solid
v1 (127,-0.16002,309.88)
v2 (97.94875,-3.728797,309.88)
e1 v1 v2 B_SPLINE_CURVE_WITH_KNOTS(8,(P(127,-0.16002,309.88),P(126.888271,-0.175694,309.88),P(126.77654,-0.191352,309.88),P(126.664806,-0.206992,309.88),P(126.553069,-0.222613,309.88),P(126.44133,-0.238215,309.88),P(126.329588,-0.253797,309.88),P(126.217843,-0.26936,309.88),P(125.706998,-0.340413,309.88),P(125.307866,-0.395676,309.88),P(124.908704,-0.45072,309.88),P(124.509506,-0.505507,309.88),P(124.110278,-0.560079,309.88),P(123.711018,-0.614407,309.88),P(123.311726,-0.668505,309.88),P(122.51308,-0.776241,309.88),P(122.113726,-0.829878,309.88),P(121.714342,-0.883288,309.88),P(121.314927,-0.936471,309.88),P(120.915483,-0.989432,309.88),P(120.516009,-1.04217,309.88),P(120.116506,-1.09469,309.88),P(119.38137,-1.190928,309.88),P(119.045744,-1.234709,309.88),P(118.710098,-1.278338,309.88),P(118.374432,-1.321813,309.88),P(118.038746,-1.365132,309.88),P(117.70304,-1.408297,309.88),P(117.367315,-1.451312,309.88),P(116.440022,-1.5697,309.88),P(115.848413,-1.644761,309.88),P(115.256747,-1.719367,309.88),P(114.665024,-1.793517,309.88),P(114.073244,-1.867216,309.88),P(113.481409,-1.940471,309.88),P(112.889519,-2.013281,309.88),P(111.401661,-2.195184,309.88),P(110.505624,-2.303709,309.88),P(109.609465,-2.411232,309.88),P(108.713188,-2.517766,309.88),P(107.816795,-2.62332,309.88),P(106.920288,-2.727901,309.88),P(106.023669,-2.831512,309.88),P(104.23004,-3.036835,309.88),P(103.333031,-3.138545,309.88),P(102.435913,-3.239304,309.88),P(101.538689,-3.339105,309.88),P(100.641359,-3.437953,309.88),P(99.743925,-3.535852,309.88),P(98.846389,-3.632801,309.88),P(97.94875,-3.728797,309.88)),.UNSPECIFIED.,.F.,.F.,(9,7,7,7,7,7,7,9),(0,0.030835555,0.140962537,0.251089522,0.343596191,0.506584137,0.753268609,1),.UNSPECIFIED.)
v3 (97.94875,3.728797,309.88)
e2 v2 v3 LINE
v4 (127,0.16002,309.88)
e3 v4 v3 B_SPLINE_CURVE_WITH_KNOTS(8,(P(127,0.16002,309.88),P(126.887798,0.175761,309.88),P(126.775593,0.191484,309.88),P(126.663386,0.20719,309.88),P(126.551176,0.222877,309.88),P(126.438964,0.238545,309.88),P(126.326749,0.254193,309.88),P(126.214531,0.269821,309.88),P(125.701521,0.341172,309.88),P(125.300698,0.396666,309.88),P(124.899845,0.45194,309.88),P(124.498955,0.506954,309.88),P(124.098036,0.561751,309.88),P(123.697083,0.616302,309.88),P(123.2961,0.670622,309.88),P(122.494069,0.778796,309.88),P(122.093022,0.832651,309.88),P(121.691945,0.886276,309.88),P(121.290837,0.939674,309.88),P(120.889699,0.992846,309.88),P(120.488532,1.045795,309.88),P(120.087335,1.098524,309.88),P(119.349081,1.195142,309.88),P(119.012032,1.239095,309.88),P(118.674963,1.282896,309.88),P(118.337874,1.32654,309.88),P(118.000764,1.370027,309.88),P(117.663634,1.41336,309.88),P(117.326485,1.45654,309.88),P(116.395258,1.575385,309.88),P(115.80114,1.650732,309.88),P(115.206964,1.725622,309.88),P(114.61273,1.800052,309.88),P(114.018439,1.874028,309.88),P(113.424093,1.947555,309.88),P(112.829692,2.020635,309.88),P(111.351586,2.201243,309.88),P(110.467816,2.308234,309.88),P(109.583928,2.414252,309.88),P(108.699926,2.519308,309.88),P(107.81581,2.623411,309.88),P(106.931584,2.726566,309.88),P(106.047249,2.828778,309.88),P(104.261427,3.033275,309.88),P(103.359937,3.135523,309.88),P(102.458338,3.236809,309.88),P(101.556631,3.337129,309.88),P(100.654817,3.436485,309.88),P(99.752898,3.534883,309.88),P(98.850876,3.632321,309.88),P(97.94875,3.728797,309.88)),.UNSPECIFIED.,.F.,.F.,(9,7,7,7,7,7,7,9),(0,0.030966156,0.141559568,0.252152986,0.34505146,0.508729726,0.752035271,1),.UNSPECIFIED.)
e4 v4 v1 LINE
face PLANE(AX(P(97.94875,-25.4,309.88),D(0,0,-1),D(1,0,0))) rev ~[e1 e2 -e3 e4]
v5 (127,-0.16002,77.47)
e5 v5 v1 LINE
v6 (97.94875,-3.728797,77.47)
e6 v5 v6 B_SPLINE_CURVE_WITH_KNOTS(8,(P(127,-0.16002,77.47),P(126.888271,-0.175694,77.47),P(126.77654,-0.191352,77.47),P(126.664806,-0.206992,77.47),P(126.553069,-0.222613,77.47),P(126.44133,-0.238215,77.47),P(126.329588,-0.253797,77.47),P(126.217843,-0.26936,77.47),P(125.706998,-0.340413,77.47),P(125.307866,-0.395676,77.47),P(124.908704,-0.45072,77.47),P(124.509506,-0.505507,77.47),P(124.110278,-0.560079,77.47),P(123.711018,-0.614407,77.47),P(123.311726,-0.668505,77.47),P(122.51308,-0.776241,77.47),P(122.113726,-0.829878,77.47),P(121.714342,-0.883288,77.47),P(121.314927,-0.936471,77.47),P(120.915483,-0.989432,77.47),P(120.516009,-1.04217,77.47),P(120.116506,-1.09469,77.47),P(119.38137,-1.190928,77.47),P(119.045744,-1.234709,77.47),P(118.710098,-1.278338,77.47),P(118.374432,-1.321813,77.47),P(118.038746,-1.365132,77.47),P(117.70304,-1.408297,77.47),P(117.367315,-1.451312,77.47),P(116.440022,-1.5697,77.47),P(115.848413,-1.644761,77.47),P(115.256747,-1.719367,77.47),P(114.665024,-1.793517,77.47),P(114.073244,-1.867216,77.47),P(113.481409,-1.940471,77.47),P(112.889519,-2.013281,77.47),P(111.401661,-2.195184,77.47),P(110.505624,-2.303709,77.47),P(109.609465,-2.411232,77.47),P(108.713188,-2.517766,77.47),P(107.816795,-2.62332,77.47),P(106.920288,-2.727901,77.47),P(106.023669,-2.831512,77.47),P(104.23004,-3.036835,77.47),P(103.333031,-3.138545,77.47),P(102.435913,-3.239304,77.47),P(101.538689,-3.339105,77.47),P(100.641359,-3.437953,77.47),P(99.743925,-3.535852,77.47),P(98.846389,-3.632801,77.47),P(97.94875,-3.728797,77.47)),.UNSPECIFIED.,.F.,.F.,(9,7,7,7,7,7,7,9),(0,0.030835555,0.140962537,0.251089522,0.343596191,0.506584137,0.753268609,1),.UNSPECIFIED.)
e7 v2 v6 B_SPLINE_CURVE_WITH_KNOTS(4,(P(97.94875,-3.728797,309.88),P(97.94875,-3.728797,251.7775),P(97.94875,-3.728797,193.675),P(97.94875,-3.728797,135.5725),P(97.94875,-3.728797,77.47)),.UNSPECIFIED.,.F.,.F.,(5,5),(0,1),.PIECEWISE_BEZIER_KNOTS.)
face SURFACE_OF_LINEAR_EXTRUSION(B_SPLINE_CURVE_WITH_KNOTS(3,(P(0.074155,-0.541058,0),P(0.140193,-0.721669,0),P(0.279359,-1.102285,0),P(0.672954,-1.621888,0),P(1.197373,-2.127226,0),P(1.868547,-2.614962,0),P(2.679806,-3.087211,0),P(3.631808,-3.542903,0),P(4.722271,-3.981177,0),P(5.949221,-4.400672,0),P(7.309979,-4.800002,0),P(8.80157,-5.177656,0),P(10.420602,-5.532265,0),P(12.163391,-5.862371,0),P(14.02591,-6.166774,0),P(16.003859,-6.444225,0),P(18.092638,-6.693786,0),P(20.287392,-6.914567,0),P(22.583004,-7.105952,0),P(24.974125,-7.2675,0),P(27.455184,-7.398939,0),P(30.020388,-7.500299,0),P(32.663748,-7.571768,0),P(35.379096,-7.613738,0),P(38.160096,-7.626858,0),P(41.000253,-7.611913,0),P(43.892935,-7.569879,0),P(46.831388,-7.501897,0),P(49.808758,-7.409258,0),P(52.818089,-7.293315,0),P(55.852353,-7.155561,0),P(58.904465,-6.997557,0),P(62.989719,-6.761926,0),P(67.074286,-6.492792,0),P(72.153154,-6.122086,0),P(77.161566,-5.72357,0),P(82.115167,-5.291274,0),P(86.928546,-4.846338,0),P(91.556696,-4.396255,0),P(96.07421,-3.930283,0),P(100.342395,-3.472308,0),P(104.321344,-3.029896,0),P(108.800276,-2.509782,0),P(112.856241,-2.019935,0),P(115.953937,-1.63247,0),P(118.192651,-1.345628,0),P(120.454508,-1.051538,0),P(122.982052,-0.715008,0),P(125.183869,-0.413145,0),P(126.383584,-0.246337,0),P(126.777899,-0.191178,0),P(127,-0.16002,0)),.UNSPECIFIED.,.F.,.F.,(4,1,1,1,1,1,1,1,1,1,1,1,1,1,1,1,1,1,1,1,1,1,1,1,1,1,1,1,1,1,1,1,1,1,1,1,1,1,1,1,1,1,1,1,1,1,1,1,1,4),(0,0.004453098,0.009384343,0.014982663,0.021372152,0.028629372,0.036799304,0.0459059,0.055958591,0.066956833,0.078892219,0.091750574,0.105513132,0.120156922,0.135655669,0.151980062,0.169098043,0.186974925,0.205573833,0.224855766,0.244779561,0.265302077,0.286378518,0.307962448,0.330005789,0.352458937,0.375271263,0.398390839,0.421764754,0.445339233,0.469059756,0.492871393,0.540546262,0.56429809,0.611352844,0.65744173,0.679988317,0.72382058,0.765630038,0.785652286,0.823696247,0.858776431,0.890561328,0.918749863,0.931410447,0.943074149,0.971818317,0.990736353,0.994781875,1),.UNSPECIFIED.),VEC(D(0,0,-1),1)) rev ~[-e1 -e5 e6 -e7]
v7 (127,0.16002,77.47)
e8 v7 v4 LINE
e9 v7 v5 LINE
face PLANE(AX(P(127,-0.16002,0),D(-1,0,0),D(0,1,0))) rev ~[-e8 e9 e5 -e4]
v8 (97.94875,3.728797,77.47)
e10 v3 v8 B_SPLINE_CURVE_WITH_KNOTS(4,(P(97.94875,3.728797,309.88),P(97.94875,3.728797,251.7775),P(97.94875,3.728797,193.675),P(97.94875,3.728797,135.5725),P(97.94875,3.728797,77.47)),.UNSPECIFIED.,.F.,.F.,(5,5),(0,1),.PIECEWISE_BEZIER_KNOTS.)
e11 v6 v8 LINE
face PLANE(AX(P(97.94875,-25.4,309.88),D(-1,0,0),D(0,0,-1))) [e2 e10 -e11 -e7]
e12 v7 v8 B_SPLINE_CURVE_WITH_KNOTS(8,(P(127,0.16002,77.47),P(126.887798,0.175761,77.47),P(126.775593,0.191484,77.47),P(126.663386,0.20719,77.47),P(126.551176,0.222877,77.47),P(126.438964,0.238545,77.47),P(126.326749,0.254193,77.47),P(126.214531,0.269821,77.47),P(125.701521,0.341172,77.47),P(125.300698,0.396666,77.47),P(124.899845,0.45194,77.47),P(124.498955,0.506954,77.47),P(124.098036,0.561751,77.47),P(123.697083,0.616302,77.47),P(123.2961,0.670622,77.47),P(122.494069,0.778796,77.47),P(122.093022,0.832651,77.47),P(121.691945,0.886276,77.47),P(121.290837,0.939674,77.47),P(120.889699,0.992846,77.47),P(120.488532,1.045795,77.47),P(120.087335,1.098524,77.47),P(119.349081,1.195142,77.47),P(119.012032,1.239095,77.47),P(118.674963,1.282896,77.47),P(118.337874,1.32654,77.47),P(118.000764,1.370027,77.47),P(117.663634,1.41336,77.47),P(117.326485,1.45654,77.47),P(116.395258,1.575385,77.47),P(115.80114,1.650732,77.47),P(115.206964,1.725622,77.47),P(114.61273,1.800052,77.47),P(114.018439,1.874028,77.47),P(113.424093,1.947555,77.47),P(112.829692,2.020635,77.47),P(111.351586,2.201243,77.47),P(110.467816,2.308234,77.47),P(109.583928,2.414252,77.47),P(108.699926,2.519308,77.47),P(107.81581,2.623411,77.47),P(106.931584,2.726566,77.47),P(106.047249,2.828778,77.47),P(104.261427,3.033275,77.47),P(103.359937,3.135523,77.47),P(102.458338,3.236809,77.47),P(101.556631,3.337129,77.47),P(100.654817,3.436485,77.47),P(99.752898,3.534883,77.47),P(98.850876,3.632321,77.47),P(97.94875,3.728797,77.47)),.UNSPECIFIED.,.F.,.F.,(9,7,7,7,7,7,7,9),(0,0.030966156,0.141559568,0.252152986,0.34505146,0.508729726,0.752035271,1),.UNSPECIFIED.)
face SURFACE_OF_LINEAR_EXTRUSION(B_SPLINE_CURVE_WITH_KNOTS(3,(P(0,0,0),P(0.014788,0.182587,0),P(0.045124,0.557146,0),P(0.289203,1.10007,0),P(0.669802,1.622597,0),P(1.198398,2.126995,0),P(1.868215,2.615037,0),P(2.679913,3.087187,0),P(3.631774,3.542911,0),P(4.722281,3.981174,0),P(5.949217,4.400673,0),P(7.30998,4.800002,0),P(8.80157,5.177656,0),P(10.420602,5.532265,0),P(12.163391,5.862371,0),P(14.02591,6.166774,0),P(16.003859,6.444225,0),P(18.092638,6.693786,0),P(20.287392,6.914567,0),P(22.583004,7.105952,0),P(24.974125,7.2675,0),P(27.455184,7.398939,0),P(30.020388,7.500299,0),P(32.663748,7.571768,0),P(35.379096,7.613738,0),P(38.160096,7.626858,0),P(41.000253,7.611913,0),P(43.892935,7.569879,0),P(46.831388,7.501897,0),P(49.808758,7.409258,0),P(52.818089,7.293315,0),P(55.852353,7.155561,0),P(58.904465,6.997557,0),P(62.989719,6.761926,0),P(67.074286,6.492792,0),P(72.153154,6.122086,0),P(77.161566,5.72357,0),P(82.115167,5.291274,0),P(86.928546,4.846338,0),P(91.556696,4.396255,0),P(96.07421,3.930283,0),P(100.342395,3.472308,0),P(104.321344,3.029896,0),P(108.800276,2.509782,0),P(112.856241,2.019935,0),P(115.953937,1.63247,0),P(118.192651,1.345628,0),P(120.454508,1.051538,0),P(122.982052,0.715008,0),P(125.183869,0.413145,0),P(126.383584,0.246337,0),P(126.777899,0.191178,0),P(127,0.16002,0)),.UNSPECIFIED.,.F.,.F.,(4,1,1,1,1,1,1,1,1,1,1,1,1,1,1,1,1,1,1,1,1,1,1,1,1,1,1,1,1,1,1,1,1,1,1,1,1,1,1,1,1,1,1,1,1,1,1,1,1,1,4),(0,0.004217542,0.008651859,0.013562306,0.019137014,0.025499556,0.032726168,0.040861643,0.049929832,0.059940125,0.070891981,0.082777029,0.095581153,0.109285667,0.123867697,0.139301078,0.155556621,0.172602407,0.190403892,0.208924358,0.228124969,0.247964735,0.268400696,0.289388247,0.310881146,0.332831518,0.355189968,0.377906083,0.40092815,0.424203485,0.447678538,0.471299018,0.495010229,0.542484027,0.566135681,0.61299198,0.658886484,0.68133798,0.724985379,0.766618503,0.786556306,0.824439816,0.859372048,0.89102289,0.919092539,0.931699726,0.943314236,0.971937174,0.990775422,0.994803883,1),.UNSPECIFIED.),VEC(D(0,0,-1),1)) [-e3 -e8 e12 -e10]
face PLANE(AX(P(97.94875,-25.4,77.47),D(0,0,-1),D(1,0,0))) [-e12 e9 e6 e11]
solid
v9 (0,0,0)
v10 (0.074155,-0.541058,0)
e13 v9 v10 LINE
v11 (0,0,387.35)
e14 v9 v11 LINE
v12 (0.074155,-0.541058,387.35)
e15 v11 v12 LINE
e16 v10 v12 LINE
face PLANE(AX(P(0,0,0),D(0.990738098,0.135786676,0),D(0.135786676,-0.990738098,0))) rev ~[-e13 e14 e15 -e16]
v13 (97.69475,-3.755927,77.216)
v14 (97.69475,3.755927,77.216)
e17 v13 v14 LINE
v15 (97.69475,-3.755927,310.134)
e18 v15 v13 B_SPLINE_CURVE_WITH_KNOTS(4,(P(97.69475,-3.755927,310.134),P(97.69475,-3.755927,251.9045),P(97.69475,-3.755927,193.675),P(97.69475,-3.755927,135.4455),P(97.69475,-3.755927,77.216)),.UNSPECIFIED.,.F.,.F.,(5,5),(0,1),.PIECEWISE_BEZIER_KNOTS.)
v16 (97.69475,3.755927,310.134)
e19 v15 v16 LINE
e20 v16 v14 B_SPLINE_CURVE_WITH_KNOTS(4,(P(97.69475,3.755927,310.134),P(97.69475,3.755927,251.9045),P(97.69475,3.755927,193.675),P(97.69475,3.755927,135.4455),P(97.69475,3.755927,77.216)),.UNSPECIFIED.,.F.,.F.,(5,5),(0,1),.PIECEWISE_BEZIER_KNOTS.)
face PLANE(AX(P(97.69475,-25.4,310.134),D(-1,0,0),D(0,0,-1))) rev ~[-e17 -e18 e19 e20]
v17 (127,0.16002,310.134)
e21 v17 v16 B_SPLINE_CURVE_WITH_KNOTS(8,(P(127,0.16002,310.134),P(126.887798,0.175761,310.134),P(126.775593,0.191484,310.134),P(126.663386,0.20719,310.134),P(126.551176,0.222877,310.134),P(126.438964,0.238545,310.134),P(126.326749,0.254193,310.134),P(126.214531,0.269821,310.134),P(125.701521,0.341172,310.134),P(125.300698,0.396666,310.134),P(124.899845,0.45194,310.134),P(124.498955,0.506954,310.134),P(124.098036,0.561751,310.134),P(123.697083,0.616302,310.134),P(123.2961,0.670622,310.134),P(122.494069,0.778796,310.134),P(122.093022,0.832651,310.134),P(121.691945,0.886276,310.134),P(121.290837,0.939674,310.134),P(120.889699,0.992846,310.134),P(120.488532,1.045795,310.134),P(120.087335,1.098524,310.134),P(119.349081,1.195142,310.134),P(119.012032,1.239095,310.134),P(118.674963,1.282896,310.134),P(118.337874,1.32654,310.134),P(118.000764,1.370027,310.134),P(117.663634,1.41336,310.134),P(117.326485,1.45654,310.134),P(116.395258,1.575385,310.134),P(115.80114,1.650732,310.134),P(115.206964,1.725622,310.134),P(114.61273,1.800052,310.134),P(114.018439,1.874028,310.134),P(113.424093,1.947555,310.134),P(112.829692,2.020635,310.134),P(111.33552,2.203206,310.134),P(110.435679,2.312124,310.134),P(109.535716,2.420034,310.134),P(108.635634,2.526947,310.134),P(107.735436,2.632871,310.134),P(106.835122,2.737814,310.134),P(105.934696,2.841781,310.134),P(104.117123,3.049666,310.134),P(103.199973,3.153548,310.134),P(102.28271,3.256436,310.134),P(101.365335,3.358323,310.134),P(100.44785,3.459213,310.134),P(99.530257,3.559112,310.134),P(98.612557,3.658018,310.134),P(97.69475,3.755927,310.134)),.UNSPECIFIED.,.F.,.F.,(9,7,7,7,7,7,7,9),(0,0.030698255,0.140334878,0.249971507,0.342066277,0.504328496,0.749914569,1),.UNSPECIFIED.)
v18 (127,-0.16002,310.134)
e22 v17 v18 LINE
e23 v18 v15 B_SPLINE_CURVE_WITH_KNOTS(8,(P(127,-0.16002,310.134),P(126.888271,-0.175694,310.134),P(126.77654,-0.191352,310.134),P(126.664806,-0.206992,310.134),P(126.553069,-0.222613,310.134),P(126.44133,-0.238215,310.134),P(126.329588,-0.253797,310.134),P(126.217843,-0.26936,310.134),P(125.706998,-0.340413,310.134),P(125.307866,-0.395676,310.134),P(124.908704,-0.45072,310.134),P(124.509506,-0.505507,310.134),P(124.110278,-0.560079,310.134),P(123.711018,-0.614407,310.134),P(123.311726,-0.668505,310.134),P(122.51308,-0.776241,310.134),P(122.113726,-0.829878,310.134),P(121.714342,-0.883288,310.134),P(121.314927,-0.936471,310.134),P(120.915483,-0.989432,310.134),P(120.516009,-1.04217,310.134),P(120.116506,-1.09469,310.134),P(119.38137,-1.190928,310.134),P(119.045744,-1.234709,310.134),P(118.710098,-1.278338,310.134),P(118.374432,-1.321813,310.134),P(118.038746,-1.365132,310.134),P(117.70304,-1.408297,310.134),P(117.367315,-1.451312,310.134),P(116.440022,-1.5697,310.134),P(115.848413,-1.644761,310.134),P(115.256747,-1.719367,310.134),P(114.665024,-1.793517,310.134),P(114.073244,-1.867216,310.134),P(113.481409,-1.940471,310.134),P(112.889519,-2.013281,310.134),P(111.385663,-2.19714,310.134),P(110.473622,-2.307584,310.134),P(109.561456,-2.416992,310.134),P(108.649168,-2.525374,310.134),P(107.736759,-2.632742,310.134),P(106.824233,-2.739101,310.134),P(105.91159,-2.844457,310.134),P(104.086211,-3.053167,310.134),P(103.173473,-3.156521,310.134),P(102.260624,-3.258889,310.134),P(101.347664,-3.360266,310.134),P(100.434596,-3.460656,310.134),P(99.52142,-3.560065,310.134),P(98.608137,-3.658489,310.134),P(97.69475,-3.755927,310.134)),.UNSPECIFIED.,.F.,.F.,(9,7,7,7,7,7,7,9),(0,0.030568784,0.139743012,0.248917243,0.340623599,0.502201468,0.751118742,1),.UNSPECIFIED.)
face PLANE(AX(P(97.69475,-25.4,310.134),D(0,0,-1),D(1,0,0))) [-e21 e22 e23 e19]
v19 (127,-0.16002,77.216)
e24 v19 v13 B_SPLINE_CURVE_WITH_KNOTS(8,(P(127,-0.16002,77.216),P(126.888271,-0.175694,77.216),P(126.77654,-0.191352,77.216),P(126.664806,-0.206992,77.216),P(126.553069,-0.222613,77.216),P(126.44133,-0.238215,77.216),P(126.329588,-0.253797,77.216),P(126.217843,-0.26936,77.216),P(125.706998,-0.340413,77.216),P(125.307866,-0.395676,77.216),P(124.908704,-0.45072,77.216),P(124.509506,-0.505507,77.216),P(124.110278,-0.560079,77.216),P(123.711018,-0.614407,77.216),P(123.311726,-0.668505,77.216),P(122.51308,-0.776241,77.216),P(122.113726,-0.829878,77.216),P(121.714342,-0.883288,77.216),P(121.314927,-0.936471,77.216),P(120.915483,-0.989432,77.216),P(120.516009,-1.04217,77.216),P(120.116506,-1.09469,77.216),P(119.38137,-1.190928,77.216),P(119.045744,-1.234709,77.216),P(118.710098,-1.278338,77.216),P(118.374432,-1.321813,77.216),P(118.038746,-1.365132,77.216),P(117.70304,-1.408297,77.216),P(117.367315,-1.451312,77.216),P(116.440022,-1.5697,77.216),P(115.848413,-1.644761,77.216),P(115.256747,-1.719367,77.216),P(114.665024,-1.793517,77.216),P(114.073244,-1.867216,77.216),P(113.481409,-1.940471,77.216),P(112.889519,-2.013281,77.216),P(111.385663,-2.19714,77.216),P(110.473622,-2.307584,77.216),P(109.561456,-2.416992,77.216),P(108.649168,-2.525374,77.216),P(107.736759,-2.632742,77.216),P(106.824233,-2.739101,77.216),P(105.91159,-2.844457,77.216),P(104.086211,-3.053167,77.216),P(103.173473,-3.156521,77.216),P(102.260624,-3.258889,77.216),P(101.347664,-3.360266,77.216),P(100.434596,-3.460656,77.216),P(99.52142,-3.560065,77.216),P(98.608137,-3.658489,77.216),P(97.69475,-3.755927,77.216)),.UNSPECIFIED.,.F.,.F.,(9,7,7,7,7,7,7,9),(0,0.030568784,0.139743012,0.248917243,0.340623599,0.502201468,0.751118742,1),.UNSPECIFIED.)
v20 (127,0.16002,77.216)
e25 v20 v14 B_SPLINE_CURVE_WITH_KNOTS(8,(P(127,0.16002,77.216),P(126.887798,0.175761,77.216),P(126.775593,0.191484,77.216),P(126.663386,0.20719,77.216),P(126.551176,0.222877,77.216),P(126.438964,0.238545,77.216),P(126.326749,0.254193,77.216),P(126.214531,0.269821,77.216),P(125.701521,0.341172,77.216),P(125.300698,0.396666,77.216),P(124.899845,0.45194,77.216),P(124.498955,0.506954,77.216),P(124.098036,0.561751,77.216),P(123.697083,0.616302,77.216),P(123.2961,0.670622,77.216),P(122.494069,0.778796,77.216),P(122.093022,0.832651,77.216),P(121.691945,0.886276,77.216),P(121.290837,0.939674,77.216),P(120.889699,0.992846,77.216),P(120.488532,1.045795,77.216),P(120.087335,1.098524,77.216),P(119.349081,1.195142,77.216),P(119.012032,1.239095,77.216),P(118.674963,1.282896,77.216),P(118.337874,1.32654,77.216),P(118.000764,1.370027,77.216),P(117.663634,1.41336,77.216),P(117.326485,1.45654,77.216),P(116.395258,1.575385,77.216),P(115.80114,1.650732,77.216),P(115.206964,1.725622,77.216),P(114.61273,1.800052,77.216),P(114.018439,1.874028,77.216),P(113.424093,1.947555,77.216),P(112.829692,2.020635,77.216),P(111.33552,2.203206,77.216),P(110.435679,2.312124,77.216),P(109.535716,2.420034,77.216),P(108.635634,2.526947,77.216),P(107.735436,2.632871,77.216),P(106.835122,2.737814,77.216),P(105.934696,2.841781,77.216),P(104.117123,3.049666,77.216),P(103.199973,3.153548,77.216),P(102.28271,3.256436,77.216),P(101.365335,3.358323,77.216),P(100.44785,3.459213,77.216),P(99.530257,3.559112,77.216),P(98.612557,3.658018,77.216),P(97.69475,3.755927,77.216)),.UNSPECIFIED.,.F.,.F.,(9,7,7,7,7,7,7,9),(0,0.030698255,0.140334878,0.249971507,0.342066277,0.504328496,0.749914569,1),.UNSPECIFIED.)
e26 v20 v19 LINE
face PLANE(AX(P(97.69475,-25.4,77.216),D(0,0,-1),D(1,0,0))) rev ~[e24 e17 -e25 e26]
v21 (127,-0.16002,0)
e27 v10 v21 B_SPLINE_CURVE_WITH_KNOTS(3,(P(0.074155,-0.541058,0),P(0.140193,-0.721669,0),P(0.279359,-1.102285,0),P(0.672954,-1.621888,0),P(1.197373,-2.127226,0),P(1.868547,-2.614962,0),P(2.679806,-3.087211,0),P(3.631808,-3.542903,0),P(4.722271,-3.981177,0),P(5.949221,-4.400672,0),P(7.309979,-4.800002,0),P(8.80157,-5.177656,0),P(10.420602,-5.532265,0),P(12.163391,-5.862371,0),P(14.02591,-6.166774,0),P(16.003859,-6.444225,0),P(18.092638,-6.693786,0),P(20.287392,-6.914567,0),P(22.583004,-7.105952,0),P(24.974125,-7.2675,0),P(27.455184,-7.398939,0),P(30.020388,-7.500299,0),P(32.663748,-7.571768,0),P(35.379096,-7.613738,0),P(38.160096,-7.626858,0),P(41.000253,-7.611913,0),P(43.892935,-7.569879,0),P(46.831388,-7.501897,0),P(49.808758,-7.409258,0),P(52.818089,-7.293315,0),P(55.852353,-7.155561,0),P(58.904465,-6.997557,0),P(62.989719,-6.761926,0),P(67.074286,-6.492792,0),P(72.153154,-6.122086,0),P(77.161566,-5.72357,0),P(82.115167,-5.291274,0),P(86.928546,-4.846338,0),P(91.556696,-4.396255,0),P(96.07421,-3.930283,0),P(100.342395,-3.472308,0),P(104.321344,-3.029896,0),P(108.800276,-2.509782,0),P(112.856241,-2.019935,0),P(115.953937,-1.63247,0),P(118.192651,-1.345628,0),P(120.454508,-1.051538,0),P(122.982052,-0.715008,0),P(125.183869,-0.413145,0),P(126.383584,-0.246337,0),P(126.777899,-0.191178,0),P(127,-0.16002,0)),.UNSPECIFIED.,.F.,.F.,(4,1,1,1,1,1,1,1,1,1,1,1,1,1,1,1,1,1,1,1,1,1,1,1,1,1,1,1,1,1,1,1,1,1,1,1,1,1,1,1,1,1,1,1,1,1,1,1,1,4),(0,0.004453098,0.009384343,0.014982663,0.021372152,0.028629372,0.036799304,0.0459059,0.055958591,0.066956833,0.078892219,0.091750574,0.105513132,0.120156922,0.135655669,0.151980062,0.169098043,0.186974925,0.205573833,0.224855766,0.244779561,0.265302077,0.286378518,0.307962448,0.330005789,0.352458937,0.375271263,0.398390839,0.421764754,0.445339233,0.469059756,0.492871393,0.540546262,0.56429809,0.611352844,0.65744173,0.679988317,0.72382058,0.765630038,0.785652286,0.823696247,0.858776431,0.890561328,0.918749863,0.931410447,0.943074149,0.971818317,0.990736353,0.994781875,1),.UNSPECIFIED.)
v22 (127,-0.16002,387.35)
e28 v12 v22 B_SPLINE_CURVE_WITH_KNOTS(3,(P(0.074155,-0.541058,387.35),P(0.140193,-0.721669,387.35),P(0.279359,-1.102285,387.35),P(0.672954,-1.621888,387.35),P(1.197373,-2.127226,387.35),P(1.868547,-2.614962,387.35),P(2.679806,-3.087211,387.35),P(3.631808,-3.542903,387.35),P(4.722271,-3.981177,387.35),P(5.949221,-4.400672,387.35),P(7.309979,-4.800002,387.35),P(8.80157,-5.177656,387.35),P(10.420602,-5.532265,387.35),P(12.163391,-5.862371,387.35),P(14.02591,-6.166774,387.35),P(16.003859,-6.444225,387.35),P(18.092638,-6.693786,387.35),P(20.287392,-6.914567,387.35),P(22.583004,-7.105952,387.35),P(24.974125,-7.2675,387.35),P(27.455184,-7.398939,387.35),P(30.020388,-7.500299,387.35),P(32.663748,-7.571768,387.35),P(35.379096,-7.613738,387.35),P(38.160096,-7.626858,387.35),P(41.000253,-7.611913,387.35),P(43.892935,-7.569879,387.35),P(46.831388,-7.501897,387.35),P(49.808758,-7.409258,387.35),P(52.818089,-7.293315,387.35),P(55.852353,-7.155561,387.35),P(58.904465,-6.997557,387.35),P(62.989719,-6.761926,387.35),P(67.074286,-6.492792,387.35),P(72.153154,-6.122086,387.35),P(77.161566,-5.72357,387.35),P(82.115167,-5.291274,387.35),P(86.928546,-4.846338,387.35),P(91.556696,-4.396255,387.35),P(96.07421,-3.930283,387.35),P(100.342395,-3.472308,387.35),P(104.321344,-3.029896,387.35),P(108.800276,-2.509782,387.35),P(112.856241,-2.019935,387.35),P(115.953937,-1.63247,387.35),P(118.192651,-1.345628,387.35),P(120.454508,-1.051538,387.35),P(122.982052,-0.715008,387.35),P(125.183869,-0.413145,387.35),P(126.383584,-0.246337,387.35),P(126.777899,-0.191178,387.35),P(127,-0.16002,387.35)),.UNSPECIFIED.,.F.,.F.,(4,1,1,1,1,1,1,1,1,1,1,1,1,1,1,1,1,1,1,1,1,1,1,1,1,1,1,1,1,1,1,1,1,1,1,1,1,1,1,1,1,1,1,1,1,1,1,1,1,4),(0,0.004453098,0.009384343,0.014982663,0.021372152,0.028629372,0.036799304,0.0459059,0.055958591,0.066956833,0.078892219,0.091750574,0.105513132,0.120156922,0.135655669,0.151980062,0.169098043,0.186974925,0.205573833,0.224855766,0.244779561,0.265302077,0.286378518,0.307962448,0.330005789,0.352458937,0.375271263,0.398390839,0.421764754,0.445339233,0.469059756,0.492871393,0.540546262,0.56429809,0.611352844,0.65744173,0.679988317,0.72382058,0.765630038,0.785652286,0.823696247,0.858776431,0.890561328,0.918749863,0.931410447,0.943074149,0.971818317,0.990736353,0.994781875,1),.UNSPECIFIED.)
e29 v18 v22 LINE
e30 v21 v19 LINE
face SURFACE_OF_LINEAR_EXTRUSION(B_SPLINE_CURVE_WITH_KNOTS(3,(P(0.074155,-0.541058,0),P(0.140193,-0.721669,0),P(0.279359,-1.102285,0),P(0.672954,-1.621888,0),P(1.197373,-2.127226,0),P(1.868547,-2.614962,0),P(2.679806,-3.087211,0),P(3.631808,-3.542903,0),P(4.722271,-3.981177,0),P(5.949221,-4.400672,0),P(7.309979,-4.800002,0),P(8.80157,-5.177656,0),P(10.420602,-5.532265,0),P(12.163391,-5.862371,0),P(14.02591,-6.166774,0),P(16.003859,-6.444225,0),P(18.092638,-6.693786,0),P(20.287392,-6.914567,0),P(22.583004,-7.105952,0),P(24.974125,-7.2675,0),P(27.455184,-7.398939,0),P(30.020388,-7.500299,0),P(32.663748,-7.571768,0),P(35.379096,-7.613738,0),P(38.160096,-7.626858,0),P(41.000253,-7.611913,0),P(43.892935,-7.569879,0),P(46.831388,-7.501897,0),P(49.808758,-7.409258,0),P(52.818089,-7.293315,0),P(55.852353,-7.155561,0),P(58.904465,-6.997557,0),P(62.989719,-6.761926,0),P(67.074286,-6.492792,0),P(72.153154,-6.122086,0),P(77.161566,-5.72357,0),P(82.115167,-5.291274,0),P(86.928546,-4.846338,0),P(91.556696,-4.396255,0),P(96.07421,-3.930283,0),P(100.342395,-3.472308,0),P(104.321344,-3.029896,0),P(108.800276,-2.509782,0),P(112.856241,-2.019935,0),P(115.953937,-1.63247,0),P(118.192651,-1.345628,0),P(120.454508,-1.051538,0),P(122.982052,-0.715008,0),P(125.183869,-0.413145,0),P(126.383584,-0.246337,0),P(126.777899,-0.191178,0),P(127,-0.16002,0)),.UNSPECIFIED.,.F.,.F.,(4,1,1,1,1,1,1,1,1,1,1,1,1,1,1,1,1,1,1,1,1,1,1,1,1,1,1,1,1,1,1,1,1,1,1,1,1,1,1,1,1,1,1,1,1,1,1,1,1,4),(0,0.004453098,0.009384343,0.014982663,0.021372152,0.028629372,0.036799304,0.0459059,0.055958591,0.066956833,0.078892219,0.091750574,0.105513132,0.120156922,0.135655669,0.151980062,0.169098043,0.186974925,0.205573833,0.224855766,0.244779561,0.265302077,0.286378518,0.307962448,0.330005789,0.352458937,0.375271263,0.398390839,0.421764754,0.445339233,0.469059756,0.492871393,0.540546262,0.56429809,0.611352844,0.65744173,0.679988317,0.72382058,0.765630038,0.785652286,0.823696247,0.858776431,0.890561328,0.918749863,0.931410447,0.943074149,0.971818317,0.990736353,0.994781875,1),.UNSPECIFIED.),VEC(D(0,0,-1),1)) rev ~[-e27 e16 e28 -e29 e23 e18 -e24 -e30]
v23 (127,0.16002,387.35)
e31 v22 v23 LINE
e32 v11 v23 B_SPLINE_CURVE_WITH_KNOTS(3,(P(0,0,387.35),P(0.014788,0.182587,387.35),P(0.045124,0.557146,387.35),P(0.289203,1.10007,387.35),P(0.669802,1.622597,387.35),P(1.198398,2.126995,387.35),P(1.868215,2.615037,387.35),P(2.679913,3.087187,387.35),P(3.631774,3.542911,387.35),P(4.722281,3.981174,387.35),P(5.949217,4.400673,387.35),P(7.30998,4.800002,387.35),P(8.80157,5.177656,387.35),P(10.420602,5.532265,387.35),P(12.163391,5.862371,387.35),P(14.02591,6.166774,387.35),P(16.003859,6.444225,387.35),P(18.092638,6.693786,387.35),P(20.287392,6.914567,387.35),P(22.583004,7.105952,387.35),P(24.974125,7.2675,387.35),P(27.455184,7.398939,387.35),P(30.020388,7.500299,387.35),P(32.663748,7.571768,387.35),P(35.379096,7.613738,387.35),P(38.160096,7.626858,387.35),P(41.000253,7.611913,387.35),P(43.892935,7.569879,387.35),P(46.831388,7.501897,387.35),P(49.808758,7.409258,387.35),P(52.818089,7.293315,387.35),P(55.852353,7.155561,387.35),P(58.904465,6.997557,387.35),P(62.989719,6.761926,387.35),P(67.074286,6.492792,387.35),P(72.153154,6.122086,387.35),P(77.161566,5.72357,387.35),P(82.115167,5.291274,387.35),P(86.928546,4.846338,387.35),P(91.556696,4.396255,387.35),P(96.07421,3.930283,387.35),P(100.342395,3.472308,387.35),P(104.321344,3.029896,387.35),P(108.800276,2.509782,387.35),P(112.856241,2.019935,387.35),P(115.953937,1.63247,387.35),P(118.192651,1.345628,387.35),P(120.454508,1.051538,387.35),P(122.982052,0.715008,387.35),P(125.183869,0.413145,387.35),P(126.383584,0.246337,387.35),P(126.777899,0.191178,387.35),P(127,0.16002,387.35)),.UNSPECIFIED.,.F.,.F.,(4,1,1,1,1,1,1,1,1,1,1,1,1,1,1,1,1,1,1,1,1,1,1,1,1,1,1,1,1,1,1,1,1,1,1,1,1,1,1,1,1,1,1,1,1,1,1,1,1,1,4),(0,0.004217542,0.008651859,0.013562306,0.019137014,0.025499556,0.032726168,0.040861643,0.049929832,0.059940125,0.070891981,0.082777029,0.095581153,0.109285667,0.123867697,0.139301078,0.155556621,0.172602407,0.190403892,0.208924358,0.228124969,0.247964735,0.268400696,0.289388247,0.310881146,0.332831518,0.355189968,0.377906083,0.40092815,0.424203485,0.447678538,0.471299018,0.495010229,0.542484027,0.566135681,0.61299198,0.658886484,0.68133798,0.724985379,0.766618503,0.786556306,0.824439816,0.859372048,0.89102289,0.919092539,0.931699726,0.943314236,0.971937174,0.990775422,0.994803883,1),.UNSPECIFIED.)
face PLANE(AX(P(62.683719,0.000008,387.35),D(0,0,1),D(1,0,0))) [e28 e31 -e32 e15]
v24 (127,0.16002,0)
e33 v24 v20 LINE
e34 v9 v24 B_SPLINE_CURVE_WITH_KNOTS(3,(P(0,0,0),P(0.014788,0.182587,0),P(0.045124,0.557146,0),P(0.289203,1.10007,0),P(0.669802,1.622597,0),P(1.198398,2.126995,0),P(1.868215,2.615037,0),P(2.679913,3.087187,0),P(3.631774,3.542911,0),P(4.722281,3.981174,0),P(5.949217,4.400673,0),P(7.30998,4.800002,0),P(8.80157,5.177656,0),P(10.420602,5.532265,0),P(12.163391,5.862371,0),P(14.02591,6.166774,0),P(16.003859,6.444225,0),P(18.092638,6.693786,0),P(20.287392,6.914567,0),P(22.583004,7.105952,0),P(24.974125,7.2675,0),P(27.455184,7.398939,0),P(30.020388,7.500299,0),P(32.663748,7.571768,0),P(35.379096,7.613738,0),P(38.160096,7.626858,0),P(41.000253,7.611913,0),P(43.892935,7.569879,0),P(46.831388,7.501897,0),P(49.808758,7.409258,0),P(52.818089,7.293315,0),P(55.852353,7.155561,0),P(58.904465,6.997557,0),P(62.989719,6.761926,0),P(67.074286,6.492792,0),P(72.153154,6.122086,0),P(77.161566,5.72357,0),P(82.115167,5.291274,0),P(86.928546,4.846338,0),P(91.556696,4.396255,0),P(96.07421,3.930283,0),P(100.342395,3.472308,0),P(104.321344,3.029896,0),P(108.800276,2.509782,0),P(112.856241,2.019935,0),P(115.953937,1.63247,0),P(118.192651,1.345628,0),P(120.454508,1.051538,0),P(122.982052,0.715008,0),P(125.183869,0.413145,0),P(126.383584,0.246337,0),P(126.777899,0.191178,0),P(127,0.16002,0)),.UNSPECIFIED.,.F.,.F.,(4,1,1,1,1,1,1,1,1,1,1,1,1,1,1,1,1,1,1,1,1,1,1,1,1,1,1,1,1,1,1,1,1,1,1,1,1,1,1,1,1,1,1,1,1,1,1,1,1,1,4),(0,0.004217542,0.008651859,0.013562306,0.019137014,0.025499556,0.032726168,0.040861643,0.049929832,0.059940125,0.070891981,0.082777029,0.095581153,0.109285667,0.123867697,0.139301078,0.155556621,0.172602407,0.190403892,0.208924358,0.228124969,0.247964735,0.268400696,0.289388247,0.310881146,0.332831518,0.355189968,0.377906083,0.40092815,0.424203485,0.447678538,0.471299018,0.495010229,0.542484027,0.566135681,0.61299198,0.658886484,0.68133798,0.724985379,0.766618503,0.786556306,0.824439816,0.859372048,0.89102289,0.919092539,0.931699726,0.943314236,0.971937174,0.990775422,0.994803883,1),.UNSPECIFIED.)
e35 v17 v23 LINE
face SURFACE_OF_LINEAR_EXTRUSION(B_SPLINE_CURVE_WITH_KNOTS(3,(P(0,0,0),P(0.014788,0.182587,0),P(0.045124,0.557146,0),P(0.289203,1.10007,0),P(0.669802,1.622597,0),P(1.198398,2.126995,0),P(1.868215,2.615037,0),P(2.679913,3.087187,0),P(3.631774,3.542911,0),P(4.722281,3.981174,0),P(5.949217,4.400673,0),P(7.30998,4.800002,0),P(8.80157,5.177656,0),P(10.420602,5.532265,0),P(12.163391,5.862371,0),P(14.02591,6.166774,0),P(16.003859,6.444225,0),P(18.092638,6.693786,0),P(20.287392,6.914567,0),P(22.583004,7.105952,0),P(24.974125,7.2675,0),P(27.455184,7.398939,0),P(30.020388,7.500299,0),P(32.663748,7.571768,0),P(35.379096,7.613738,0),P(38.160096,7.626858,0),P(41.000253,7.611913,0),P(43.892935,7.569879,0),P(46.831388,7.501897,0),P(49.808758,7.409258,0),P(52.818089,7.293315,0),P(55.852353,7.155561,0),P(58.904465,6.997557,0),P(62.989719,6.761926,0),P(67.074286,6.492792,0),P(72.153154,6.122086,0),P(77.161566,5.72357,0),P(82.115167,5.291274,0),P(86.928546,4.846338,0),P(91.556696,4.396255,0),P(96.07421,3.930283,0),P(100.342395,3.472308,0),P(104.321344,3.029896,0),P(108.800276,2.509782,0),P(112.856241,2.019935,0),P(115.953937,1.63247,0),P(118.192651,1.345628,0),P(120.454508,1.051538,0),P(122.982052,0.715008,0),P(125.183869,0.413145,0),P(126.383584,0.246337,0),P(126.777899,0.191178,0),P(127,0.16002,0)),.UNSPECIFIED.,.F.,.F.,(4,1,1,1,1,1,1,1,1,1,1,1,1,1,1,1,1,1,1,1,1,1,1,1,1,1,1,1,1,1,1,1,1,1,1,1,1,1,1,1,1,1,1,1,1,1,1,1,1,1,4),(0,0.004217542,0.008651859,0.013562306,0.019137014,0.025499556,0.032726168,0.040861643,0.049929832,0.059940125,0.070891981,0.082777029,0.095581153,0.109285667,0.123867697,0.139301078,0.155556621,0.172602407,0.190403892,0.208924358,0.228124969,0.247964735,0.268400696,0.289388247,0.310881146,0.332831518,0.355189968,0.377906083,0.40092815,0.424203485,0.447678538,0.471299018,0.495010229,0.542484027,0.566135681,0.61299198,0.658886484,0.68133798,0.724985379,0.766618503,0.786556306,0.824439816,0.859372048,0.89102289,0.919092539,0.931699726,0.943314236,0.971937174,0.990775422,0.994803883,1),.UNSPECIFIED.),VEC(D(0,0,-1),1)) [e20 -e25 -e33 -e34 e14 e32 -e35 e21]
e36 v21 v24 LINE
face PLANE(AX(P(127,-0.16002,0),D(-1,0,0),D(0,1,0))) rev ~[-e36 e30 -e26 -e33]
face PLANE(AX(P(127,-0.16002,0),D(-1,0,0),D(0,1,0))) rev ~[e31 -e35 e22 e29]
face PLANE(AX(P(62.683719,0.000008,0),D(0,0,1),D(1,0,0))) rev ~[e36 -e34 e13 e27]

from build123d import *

# Parameters (mm, degrees)
BOSS_EXTRUDE1_DEPTH          = 387.35
CUT_EXTRUDE_THIN1_DEPTH      = 25.4
CUT_EXTRUDE_THIN1_DEPTH_BACK = 25.4
SKETCH8_W                    = 58.6105
SKETCH8_H                    = 232.918
SKETCH8_W_2                  = 58.1025
SKETCH8_H_2                  = 232.41


with BuildPart() as part:
    # Sketch1 → Boss-Extrude1 (new body)
    with BuildSketch(Plane.XY):
        with BuildLine():
            Line((0, 0), (0.0741553, -0.5410581))
            add(Edge.make_bspline(
                [(0.0741553, -0.5410581), (0.140193116, -0.721669288), (0.279359485, -1.102284586), (0.672953866, -1.621887631), (1.197372717, -2.127225876), (1.868546979, -2.614961799), (2.679805959, -3.087211333), (3.631807621, -3.542903378), (4.722270879, -3.981176782), (5.949220629, -4.400672498), (7.309979196, -4.800002189), (8.801569979, -5.177656111), (10.420601607, -5.532264877), (12.163391442, -5.862371272), (14.025910144, -6.166774384), (16.003859244, -6.444224904), (18.092638104, -6.693786188), (20.287392365, -6.914566798), (22.583004305, -7.105952415), (24.974124891, -7.267500336), (27.455183748, -7.398939329), (30.020387925, -7.50029876), (32.6637483, -7.571768113), (35.37909603, -7.613737924), (38.16009598, -7.6268579), (41.000252855, -7.611912582), (43.892935104, -7.569879311), (46.831388406, -7.501897019), (49.80875771, -7.409257979), (52.818088887, -7.293315259), (55.852352747, -7.155560507), (58.904465333, -6.997557268), (62.989718699, -6.76192592), (67.07428575, -6.492791876), (72.153153866, -6.122085821), (77.161565564, -5.723570073), (82.115167215, -5.291274037), (86.928545971, -4.846337775), (91.556695876, -4.396255017), (96.074209839, -3.930282916), (100.342395257, -3.472307631), (104.321343716, -3.029895637), (108.800275666, -2.509782412), (112.856241075, -2.01993467), (115.953937365, -1.632470119), (118.192651038, -1.345627894), (120.454508393, -1.051537975), (122.982051787, -0.715008334), (125.183869328, -0.413145258), (126.383583987, -0.246336664), (126.777898618, -0.191178133), (127, -0.16002)],
                knots=[0, 0, 0, 0, 0.004453098, 0.009384343, 0.014982663, 0.021372152, 0.028629372, 0.036799304, 0.0459059, 0.055958591, 0.066956833, 0.078892219, 0.091750574, 0.105513132, 0.120156922, 0.135655669, 0.151980062, 0.169098043, 0.186974925, 0.205573833, 0.224855766, 0.244779561, 0.265302077, 0.286378518, 0.307962448, 0.330005789, 0.352458937, 0.375271263, 0.398390839, 0.421764754, 0.445339233, 0.469059756, 0.492871393, 0.540546262, 0.56429809, 0.611352844, 0.65744173, 0.679988317, 0.72382058, 0.765630038, 0.785652286, 0.823696247, 0.858776431, 0.890561328, 0.918749863, 0.931410447, 0.943074149, 0.971818317, 0.990736353, 0.994781875, 1, 1, 1, 1], degree=3))
            Line((127, -0.16002), (127, 0.16002))
            add(Edge.make_bspline(
                [(0, 0), (0.014787865, 0.182587172), (0.045123671, 0.55714623), (0.289202643, 1.100069783), (0.669802119, 1.622596804), (1.198397925, 2.126995195), (1.868214507, 2.615036608), (2.679912557, 3.087187348), (3.631773923, 3.542910961), (4.72228138, 3.981174419), (5.9492174, 4.400673225), (7.309980177, 4.800001969), (8.801569684, 5.177656177), (10.420601695, 5.532264857), (12.163391416, 5.862371278), (14.025910152, 6.166774382), (16.003859242, 6.444224905), (18.092638105, 6.693786188), (20.287392365, 6.914566798), (22.583004305, 7.105952415), (24.974124891, 7.267500336), (27.455183748, 7.398939329), (30.020387925, 7.50029876), (32.6637483, 7.571768113), (35.37909603, 7.613737924), (38.16009598, 7.6268579), (41.000252855, 7.611912582), (43.892935104, 7.569879311), (46.831388406, 7.501897019), (49.80875771, 7.409257979), (52.818088887, 7.293315259), (55.852352747, 7.155560507), (58.904465333, 6.997557268), (62.989718699, 6.76192592), (67.07428575, 6.492791876), (72.153153866, 6.122085821), (77.161565564, 5.723570073), (82.115167215, 5.291274037), (86.928545971, 4.846337775), (91.556695876, 4.396255017), (96.074209839, 3.930282916), (100.342395257, 3.472307631), (104.321343716, 3.029895637), (108.800275666, 2.509782412), (112.856241075, 2.01993467), (115.953937365, 1.632470119), (118.192651038, 1.345627894), (120.454508393, 1.051537975), (122.982051787, 0.715008334), (125.183869328, 0.413145258), (126.383583987, 0.246336664), (126.777898618, 0.191178133), (127, 0.16002)],
                knots=[0, 0, 0, 0, 0.004217542, 0.008651859, 0.013562306, 0.019137014, 0.025499556, 0.032726168, 0.040861643, 0.049929832, 0.059940125, 0.070891981, 0.082777029, 0.095581153, 0.109285667, 0.123867697, 0.139301078, 0.155556621, 0.172602407, 0.190403892, 0.208924358, 0.228124969, 0.247964735, 0.268400696, 0.289388247, 0.310881146, 0.332831518, 0.355189968, 0.377906083, 0.40092815, 0.424203485, 0.447678538, 0.471299018, 0.495010229, 0.542484027, 0.566135681, 0.61299198, 0.658886484, 0.68133798, 0.724985379, 0.766618503, 0.786556306, 0.824439816, 0.859372048, 0.89102289, 0.919092539, 0.931699726, 0.943314236, 0.971937174, 0.990775422, 0.994803883, 1, 1, 1, 1], degree=3))
        make_face()
    extrude(amount=BOSS_EXTRUDE1_DEPTH)

    # Sketch8 → Cut-Extrude-Thin1 (cut, two sides: drawn at the far end of the back side and taken through both)
    with BuildSketch(Plane(origin=(0, 0, 0), x_dir=(1, 0, 0), z_dir=(0, 1, 0)).offset(-CUT_EXTRUDE_THIN1_DEPTH_BACK)):
        with Locations((127, -193.675)):
            Rectangle(SKETCH8_W, SKETCH8_H)
        with Locations((127, -193.675)):
            Rectangle(SKETCH8_W_2, SKETCH8_H_2, mode=Mode.SUBTRACT)
    extrude(amount=CUT_EXTRUDE_THIN1_DEPTH + CUT_EXTRUDE_THIN1_DEPTH_BACK, mode=Mode.SUBTRACT)


with BuildPart() as cut_extrude_thin1_piece_1:
    # of the separate pieces the step leaves, piece 1, a body of its own (cut_extrude_thin1_pieces)
    add(part.part.solids().sort_by_distance((0, 0, 0))[0])


with BuildPart() as cut_extrude_thin1_piece_2:
    # of the separate pieces the step leaves, piece 2, a body of its own (cut_extrude_thin1_pieces)
    add(part.part.solids().sort_by_distance((127, 0.16002, 77.47))[0])


solid = Compound([cut_extrude_thin1_piece_1.part, cut_extrude_thin1_piece_2.part])
